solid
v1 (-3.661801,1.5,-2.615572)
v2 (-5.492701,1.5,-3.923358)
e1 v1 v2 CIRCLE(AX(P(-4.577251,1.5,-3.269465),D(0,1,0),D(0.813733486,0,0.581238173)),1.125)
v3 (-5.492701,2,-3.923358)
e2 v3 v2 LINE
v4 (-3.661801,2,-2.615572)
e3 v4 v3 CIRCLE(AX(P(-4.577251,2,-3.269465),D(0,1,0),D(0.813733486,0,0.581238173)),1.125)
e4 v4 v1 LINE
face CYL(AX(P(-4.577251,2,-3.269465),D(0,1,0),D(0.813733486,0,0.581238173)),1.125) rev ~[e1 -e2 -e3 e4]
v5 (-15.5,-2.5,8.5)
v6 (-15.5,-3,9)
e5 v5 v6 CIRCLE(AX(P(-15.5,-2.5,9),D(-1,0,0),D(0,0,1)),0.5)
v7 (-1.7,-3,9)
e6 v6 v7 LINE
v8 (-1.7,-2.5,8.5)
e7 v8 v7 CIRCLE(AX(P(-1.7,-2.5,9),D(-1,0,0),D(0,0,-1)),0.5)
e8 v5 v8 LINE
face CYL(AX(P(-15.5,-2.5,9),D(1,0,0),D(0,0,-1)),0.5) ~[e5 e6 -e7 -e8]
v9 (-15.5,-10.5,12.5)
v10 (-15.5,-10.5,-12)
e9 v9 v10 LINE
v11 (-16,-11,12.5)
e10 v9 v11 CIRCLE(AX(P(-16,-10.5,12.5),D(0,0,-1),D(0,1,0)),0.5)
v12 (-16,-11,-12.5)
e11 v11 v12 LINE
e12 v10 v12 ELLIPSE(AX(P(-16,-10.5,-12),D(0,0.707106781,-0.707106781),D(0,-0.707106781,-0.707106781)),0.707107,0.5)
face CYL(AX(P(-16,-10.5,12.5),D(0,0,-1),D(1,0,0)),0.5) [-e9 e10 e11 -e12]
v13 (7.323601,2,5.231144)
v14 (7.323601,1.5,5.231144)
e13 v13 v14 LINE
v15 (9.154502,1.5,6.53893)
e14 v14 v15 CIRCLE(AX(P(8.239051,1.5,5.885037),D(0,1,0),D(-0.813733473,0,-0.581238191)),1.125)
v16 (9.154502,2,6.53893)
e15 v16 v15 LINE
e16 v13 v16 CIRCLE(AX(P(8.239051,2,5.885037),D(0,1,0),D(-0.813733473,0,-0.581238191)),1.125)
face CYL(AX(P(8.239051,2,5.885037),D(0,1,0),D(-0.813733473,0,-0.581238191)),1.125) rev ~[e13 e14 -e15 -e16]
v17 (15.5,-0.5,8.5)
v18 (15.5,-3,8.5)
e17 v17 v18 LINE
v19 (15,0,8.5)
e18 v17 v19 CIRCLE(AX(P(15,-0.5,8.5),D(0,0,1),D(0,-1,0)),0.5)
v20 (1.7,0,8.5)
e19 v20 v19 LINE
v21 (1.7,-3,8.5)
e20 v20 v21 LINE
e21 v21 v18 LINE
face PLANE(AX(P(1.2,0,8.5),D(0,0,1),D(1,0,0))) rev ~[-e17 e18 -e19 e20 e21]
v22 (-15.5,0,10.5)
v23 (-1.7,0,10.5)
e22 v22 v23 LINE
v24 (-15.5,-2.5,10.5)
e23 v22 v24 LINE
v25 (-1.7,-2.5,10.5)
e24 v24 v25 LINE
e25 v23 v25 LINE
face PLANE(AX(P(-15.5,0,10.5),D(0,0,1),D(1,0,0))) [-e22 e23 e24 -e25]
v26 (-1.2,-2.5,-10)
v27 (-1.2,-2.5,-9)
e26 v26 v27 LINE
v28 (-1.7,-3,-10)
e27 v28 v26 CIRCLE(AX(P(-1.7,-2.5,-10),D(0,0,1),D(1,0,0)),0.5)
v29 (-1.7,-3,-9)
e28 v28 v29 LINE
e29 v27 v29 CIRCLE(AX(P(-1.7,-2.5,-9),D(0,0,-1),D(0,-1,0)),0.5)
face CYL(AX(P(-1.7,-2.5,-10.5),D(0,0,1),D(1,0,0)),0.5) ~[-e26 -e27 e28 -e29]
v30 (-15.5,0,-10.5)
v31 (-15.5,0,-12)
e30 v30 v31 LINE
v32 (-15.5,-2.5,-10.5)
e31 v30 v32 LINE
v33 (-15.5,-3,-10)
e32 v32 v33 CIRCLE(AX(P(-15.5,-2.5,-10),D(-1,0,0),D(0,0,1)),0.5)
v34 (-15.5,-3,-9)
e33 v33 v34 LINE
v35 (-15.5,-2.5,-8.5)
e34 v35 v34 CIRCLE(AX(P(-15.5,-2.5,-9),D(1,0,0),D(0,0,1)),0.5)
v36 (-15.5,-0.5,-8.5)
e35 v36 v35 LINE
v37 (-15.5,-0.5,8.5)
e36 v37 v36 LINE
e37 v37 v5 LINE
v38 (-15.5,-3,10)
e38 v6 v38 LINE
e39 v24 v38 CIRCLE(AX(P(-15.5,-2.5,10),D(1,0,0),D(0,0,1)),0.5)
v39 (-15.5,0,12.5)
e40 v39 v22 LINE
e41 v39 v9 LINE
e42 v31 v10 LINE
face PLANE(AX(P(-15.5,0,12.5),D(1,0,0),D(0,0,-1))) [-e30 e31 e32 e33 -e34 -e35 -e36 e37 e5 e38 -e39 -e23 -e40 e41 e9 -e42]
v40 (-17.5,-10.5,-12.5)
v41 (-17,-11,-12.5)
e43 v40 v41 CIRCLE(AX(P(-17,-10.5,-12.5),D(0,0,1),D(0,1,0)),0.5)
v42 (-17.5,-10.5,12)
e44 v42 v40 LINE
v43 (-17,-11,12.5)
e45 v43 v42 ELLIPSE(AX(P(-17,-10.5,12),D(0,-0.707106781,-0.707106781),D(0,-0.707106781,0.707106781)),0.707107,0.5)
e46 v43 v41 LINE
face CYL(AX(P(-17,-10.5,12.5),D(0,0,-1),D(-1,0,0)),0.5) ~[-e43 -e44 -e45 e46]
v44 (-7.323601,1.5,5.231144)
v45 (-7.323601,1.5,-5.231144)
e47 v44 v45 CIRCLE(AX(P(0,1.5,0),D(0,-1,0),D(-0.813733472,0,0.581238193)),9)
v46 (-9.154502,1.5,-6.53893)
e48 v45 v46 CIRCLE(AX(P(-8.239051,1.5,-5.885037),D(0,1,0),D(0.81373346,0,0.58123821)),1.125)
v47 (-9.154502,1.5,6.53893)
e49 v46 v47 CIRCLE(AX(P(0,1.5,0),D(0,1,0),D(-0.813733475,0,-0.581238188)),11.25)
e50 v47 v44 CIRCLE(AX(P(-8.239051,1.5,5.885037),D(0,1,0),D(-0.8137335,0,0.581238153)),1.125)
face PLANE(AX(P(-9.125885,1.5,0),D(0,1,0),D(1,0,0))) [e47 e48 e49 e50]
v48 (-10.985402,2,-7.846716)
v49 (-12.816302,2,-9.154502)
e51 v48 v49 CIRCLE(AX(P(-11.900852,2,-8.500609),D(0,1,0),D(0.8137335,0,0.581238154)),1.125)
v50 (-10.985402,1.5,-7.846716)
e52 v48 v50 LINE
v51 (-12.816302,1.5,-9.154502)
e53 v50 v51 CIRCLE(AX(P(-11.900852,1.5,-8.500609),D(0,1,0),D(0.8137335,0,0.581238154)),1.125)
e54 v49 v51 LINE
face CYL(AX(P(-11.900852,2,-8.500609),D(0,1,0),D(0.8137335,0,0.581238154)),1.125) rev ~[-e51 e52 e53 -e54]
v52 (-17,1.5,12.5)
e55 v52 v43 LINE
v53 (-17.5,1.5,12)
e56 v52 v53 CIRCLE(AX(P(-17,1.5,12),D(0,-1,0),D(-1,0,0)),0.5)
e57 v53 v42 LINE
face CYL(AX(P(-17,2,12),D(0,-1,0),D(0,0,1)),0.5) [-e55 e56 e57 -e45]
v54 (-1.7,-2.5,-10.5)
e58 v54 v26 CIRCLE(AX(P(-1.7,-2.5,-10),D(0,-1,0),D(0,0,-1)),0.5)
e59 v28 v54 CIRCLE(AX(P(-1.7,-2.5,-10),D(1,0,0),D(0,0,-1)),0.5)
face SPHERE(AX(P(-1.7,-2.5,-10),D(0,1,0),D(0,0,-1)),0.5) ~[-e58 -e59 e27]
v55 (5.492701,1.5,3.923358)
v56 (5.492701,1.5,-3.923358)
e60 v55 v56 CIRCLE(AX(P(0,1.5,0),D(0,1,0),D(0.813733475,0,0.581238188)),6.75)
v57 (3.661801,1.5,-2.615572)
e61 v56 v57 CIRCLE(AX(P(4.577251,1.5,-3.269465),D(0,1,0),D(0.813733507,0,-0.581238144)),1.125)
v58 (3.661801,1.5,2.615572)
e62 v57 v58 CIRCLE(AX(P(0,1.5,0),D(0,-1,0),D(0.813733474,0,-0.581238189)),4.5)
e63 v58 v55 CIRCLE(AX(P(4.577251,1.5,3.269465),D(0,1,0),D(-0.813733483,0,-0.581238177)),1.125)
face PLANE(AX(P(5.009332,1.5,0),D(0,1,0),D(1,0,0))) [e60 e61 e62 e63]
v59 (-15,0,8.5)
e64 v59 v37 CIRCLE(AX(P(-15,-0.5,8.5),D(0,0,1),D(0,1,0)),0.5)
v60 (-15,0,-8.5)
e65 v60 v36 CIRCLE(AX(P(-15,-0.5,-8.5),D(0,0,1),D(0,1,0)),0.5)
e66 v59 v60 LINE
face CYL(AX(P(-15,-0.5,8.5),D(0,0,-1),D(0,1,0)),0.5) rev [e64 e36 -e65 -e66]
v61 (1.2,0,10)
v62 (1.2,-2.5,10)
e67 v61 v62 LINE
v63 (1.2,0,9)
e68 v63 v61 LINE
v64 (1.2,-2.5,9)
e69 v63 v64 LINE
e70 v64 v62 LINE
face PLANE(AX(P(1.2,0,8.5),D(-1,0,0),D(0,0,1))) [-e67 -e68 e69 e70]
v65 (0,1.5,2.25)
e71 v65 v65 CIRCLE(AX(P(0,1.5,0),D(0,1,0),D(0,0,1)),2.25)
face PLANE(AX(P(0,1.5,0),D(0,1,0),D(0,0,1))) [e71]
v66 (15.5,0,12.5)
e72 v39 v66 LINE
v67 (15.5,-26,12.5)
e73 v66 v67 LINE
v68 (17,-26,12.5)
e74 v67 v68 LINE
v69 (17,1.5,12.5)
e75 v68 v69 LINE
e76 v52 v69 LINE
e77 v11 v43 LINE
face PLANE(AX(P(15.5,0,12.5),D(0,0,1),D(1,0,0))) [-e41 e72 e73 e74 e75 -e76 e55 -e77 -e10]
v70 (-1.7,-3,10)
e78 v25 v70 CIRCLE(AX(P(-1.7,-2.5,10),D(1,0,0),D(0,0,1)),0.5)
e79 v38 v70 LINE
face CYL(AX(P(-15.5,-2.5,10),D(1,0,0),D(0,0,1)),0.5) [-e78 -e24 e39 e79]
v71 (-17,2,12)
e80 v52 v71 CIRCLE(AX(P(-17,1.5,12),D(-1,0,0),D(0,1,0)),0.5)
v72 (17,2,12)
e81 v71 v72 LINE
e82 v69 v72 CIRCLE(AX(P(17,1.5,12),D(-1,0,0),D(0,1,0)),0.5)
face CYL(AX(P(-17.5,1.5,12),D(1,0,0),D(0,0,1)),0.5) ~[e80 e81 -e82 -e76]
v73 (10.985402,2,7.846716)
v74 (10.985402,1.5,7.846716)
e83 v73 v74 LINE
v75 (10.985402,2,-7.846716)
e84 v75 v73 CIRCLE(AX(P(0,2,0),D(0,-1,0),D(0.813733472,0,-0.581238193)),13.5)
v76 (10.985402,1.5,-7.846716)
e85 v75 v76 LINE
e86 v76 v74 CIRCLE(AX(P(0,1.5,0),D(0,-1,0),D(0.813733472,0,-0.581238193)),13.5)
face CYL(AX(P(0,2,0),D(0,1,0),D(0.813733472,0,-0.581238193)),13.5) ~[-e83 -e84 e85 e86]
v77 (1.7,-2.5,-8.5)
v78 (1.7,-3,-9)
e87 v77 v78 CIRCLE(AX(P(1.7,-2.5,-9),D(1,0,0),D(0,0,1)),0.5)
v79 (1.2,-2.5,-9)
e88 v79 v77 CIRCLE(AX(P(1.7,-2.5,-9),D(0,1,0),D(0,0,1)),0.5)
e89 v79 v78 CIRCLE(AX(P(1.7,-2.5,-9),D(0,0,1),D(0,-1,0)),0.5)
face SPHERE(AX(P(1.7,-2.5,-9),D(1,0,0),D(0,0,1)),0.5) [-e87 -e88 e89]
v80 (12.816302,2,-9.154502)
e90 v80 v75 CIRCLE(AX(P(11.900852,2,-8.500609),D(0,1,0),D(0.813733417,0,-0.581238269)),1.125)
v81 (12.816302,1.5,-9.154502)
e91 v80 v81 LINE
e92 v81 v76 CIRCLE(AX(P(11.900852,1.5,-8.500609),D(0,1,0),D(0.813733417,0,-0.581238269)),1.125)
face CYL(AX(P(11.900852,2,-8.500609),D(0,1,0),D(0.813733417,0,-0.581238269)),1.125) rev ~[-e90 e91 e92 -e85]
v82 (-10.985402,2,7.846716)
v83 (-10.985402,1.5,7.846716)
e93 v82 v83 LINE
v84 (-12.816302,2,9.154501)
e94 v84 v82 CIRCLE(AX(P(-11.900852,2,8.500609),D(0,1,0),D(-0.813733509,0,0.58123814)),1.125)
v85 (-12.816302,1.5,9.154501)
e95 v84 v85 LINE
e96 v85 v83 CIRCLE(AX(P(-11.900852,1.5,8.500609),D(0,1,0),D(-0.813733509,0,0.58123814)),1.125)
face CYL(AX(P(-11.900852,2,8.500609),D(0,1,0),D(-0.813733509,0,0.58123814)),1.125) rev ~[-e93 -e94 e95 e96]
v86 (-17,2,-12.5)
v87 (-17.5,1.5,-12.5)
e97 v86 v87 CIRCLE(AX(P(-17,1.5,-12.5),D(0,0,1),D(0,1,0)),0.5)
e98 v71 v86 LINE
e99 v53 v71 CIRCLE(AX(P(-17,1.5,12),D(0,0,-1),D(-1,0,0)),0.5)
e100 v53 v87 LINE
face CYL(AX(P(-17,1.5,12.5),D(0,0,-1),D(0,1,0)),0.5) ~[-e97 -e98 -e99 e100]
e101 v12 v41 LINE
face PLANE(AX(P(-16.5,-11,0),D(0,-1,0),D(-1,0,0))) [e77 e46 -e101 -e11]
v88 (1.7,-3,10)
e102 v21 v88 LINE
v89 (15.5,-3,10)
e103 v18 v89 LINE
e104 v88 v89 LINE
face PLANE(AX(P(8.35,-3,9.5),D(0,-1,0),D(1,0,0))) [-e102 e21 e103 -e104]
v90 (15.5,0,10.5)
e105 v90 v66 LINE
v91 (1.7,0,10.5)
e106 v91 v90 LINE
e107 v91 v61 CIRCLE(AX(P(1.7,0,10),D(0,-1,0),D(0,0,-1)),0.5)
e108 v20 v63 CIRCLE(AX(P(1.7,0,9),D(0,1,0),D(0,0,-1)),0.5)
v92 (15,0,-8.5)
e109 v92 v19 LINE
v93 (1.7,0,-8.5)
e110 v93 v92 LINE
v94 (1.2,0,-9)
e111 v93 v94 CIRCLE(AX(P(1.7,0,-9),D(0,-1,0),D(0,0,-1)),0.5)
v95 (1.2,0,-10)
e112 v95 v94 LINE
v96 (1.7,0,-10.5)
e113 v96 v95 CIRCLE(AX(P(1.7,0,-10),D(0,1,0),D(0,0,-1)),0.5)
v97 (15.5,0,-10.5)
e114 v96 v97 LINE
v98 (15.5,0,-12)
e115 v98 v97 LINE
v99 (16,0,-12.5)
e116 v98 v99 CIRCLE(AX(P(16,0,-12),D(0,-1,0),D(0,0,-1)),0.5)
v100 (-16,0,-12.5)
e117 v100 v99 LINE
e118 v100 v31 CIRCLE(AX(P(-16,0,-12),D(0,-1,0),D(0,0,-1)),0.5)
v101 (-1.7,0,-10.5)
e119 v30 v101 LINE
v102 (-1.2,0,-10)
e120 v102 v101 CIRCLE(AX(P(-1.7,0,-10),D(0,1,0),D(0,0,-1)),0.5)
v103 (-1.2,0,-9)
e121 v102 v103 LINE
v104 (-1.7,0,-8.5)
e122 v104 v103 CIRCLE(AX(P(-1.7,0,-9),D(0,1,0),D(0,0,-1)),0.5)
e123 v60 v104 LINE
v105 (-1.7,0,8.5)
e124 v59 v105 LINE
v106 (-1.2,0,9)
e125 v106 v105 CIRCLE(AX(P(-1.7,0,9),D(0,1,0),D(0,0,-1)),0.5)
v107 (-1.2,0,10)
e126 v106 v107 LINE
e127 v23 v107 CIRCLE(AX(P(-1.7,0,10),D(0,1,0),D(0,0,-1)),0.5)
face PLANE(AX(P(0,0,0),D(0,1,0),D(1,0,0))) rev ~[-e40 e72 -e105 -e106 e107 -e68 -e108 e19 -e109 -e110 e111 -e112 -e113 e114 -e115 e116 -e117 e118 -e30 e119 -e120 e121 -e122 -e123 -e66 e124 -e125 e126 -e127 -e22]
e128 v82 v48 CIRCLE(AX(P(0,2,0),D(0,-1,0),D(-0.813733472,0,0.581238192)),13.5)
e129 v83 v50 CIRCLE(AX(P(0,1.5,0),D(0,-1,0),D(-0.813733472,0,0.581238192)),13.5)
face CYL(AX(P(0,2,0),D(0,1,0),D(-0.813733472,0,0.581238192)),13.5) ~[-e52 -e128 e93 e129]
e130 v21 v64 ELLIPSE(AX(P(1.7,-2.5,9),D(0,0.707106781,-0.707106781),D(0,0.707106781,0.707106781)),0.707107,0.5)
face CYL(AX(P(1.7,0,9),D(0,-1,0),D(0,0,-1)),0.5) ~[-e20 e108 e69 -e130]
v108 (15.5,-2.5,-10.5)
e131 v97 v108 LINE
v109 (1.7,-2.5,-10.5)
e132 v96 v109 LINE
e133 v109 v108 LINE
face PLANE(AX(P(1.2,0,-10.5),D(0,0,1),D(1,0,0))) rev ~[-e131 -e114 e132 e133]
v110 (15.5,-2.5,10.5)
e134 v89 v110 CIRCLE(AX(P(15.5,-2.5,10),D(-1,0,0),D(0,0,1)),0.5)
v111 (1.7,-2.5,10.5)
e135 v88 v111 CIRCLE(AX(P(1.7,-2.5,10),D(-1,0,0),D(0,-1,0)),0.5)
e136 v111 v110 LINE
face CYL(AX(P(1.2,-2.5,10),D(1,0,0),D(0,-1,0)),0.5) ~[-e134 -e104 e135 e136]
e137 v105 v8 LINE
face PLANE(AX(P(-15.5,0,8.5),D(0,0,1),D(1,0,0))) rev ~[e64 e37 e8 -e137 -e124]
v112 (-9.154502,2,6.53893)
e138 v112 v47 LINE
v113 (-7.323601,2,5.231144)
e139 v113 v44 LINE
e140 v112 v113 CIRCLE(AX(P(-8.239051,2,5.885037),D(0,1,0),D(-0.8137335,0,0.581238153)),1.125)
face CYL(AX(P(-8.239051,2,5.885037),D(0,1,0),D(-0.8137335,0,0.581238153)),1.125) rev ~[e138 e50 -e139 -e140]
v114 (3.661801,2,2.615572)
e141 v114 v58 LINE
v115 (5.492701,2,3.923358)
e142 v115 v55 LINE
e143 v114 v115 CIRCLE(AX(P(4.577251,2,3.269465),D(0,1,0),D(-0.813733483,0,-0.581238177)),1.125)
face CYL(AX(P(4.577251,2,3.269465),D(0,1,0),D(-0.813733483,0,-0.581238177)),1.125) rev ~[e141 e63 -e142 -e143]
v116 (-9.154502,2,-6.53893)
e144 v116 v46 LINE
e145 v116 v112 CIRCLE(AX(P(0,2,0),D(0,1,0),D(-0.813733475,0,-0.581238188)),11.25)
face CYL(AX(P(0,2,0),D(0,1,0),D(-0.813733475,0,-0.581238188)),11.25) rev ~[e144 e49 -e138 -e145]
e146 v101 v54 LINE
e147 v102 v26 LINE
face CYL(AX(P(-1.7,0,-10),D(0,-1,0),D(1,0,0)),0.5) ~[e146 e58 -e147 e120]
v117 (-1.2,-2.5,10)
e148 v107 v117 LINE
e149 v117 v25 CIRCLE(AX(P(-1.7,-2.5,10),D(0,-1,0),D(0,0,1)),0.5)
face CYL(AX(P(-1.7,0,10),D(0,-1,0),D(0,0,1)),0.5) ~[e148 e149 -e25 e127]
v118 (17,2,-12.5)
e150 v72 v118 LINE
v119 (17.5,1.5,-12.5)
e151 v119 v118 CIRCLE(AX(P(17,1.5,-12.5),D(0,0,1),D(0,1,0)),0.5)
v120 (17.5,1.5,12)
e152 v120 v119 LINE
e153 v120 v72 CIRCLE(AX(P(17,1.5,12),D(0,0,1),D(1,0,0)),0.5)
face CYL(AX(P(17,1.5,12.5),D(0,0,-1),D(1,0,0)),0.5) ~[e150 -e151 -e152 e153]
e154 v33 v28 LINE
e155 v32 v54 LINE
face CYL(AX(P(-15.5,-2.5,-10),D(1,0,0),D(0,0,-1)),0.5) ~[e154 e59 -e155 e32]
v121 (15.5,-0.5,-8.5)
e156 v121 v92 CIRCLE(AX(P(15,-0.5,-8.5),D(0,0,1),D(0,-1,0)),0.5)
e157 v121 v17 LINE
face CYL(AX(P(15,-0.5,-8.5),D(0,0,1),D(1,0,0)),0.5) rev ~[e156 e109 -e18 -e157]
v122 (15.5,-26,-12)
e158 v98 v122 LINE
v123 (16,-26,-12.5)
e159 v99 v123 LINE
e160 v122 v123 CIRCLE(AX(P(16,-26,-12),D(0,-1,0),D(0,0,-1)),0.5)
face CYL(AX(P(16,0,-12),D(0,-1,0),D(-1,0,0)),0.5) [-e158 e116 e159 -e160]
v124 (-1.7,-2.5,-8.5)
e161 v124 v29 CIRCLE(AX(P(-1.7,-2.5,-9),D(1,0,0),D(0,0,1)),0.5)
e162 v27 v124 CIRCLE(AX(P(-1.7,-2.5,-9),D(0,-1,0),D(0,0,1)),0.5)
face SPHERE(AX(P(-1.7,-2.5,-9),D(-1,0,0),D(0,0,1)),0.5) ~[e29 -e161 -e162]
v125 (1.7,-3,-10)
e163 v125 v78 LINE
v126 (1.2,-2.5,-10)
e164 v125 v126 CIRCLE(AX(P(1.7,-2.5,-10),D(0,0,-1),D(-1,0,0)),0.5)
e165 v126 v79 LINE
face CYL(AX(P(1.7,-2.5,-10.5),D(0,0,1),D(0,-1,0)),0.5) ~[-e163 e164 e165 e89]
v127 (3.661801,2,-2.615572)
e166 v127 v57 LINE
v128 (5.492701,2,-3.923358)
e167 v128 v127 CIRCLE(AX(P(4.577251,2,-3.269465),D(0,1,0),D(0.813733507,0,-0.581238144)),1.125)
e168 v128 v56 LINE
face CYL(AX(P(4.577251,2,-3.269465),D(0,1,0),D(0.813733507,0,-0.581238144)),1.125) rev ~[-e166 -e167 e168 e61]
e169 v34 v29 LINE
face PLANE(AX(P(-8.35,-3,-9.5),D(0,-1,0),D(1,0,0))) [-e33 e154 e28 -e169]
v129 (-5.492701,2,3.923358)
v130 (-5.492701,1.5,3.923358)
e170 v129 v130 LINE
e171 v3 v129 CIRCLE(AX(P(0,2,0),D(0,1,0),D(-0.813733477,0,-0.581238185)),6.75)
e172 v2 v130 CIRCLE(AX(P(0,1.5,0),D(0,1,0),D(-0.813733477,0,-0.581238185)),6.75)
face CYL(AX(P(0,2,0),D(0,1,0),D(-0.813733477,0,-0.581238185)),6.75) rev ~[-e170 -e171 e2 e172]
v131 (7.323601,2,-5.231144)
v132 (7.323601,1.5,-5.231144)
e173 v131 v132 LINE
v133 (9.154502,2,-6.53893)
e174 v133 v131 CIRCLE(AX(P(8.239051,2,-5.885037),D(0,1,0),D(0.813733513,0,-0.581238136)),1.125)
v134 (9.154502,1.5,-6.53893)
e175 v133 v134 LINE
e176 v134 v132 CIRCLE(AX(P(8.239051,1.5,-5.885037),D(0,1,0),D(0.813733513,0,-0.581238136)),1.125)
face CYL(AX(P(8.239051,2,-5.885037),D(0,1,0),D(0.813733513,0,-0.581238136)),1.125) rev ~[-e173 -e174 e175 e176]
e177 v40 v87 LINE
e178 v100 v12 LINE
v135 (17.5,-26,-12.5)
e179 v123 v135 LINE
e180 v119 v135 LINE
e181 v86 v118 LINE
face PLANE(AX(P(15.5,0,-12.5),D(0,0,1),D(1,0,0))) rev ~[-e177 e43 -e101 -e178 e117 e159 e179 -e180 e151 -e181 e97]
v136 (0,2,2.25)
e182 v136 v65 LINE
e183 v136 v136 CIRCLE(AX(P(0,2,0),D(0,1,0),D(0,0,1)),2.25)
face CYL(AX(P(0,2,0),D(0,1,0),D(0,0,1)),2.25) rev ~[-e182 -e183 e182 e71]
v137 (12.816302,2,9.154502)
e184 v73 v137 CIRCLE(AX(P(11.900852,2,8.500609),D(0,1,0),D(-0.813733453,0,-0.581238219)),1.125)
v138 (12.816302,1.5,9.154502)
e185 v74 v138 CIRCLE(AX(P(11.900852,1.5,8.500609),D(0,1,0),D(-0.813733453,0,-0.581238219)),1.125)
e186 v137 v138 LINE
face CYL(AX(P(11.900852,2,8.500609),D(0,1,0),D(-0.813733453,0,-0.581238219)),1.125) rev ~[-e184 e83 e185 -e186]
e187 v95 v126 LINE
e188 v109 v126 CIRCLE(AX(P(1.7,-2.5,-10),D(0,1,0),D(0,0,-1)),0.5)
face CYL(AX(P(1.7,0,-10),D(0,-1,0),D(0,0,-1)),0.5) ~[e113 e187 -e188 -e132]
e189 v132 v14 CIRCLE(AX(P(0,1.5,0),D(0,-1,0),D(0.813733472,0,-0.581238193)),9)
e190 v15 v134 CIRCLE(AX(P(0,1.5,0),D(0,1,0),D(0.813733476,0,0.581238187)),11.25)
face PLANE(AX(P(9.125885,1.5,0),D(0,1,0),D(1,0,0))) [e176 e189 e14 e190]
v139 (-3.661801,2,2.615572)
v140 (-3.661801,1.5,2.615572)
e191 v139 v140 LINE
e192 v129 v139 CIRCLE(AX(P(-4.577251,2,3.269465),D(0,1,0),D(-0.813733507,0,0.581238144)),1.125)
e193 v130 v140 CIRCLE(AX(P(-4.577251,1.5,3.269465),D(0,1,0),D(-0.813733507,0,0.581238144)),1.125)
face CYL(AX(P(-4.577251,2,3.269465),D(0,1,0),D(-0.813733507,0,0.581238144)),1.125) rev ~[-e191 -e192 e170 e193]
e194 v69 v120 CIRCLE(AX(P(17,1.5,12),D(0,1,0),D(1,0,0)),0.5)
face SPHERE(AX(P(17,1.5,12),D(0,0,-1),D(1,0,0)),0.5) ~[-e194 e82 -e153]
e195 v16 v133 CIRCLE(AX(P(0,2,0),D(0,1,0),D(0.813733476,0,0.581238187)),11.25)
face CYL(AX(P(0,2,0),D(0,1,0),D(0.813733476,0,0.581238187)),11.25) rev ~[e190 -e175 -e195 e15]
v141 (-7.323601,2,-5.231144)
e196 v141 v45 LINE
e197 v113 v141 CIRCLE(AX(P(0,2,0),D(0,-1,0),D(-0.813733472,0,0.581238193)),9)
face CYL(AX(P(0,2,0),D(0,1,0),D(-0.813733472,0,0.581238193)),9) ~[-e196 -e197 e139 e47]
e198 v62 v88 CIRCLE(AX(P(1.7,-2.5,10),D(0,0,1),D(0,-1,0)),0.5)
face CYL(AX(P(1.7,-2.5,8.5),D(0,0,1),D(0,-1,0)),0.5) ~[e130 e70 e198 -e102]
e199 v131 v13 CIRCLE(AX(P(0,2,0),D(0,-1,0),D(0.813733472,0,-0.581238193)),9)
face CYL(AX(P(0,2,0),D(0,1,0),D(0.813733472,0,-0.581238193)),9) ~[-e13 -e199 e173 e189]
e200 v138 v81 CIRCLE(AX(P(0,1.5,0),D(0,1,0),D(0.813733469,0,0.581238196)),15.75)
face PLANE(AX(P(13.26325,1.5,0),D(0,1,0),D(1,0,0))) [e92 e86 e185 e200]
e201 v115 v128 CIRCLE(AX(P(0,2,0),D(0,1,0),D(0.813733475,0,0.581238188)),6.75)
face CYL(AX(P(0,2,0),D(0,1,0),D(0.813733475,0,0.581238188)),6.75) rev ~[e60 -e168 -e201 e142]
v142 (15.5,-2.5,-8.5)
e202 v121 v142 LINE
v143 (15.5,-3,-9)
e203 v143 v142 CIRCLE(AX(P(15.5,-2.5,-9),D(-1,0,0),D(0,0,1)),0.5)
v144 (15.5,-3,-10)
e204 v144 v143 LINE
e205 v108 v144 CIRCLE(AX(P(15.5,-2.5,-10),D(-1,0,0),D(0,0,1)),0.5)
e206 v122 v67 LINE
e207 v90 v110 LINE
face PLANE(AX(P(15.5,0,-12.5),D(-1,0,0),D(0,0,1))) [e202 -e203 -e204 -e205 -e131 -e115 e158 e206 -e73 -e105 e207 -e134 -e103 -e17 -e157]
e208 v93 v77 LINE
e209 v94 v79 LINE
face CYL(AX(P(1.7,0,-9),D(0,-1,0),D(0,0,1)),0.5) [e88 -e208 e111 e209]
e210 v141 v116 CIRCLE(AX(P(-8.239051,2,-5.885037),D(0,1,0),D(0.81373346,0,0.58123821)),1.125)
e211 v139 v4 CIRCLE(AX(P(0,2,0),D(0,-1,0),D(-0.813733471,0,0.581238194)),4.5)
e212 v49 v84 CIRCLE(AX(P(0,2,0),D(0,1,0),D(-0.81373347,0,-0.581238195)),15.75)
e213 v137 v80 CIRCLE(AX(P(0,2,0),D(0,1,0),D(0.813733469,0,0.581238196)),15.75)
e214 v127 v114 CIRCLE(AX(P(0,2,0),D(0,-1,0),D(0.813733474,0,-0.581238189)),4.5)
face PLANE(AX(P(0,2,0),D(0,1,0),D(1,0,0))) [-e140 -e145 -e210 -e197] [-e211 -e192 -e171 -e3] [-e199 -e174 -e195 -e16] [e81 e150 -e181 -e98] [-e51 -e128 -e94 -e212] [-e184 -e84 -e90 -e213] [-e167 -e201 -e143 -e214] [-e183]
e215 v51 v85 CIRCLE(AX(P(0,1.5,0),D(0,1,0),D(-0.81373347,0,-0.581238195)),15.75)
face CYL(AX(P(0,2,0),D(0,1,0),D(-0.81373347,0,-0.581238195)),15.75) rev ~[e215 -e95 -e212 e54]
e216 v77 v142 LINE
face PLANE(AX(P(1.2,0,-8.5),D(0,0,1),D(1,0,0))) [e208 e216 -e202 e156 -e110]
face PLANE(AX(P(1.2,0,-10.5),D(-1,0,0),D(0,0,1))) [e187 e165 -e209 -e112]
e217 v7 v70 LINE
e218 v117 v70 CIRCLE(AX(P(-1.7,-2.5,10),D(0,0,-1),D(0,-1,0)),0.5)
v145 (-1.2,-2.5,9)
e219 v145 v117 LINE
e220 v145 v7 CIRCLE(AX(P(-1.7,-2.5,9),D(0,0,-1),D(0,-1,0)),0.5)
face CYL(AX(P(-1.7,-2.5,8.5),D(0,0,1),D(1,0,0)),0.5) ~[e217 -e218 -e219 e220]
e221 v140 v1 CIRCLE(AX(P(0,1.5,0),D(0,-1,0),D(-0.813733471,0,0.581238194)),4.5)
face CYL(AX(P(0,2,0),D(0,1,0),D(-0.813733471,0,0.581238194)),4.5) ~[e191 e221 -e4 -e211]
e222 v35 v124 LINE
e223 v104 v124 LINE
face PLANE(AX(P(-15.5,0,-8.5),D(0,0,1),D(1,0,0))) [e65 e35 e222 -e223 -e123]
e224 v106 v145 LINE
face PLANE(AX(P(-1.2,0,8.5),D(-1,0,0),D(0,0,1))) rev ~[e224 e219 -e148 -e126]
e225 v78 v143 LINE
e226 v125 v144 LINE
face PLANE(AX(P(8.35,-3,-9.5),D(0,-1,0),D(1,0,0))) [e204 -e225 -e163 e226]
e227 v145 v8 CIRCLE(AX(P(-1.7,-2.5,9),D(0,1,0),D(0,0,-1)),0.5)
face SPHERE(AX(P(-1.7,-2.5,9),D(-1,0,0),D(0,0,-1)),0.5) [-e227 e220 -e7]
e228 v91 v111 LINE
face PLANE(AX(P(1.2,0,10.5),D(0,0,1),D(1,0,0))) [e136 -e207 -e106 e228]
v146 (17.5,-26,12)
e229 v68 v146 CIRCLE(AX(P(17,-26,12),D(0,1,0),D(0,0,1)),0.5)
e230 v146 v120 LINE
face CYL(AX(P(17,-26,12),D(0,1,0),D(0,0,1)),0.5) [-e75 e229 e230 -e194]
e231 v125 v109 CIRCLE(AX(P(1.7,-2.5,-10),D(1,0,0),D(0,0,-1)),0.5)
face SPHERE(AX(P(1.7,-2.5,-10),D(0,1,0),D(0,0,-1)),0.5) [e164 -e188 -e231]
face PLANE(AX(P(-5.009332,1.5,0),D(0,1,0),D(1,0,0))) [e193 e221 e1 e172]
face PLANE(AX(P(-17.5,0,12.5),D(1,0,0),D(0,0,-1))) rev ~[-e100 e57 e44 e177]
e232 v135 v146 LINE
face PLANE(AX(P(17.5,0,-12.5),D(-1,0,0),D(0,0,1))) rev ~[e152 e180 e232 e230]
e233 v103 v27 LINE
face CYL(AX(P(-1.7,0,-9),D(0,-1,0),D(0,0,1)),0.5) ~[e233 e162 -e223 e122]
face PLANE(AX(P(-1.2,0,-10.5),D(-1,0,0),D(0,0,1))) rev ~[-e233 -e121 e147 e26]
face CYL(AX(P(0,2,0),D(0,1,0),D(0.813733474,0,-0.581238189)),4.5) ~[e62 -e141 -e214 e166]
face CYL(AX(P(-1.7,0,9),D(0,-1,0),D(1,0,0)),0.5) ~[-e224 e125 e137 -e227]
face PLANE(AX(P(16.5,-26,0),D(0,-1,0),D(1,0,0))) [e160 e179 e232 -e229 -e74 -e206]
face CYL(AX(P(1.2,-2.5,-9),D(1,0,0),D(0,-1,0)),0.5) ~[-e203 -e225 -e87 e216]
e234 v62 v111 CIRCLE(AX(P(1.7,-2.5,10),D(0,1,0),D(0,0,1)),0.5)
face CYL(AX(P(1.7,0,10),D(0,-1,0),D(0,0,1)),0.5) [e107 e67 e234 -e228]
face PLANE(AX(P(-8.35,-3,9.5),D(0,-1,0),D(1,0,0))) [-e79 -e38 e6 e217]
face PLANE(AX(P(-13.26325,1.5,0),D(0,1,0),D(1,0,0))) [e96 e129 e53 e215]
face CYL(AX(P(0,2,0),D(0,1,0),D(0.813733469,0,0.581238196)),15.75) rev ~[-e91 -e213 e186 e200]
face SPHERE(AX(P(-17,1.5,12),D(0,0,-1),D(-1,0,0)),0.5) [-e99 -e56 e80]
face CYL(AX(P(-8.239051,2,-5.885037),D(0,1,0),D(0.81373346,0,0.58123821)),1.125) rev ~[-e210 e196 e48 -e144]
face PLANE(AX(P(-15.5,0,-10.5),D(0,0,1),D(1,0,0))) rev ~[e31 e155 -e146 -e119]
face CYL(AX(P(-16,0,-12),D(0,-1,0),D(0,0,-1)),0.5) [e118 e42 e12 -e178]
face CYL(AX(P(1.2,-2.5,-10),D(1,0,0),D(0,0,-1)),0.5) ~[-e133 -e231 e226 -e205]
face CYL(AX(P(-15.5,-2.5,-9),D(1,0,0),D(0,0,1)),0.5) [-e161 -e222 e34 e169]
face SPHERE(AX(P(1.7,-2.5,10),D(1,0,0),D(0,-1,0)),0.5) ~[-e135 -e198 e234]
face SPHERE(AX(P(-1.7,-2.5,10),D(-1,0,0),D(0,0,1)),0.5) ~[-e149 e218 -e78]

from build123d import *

# Parameters (mm, degrees)
SKETCH1_W           = 35
SKETCH1_H           = 25
BOSS_EXTRUDE1_DEPTH = 2
SKETCH3_W           = 2
SKETCH3_H           = 25
BOSS_EXTRUDE3_DEPTH = 11
SKETCH4_W           = 2
SKETCH4_H           = 25
BOSS_EXTRUDE4_DEPTH = 26
SKETCH5_W           = 14.3
SKETCH5_H           = 2
BOSS_EXTRUDE5_DEPTH = 3
SKETCH6_R           = 2.25
CUT_EXTRUDE1_DEPTH  = 0.5
FILLET1_R           = 0.5


with BuildPart() as part:
    # Sketch1 → Boss-Extrude1 (new body)
    with BuildSketch(Plane(origin=(0, 0, 0), x_dir=(1, 0, 0), z_dir=(0, 1, 0))):
        Rectangle(SKETCH1_W, SKETCH1_H)
    extrude(amount=BOSS_EXTRUDE1_DEPTH)

    # Sketch3 → Boss-Extrude3 (add)
    with BuildSketch(Plane(origin=(0, 0, 0), x_dir=(-1, 0, 0), z_dir=(0, -1, 0))):
        with Locations((16.5, 0)):
            Rectangle(SKETCH3_W, SKETCH3_H)
    extrude(amount=BOSS_EXTRUDE3_DEPTH)

    # Sketch4 → Boss-Extrude4 (add)
    with BuildSketch(Plane.XZ):
        with Locations((16.5, 0)):
            Rectangle(SKETCH4_W, SKETCH4_H)
    extrude(amount=BOSS_EXTRUDE4_DEPTH)

    # Sketch5 → Boss-Extrude5 (add)
    with BuildSketch(Plane.XZ):
        with Locations((8.35, 9.5)):
            Rectangle(SKETCH5_W, SKETCH5_H)
        with Locations((-8.35, 9.5)):
            Rectangle(SKETCH5_W, SKETCH5_H)
        with Locations((-8.35, -9.5)):
            Rectangle(SKETCH5_W, SKETCH5_H)
        with Locations((8.35, -9.5)):
            Rectangle(SKETCH5_W, SKETCH5_H)
    extrude(amount=BOSS_EXTRUDE5_DEPTH)

    # Sketch6 → Cut-Extrude1 (cut)
    with BuildSketch(Plane(origin=(0, 2, 0), x_dir=(1, 0, 0), z_dir=(0, 1, 0))):
        with Locations(Location((0, 0, 0), (0, 0, 270))):
            Circle(SKETCH6_R)
        with BuildLine():
            ThreePointArc((9.154501609, -6.538929598), (11.25, 1e-08), (9.154501598, 6.538929614))
            ThreePointArc((9.154501598, 6.538929614), (7.585158455, 6.800486886), (7.323601248, 5.231143733))
            ThreePointArc((7.323601248, 5.231143733), (9, -9e-09), (7.323601238, -5.231143747))
            ThreePointArc((7.323601238, -5.231143747), (7.58515847, -6.800486897), (9.154501609, -6.538929598))
        make_face()
        with BuildLine():
            ThreePointArc((-7.323601248, -5.231143733), (-9, -5e-09), (-7.323601254, 5.231143725))
            ThreePointArc((-7.323601254, 5.231143725), (-7.585158451, 6.800486883), (-9.154501598, 6.538929614))
            ThreePointArc((-9.154501598, 6.538929614), (-11.25, -1.2e-08), (-9.154501584, -6.538929633))
            ThreePointArc((-9.154501584, -6.538929633), (-7.585158446, -6.800486879), (-7.323601248, -5.231143733))
        make_face()
        with BuildLine():
            ThreePointArc((5.492700959, -3.923357768), (6.75, -1e-08), (5.492700971, 3.923357752))
            ThreePointArc((5.492700971, 3.923357752), (3.923357826, 4.184915008), (3.661800635, 2.615571852))
            ThreePointArc((3.661800635, 2.615571852), (4.5, -2.4e-08), (3.661800607, -2.61557189))
            ThreePointArc((3.661800607, -2.61557189), (3.923357837, -4.184915016), (5.492700959, -3.923357768))
        make_face()
        with BuildLine():
            ThreePointArc((-3.661800619, -2.615571874), (-4.5, 1.3e-08), (-3.661800604, 2.615571895))
            ThreePointArc((-3.661800604, 2.615571895), (-3.923357847, 4.184915023), (-5.492700971, 3.923357752))
            ThreePointArc((-5.492700971, 3.923357752), (-6.75, 0), (-5.492700971, -3.923357752))
            ThreePointArc((-5.492700971, -3.923357752), (-3.923357837, -4.184915016), (-3.661800619, -2.615571874))
        make_face()
        with BuildLine():
            ThreePointArc((10.985401866, 7.846715609), (13.5, 1.4e-08), (10.985401882, -7.846715586))
            ThreePointArc((10.985401882, -7.846715586), (11.246959012, -9.416058712), (12.81630214, -9.154501596))
            ThreePointArc((12.81630214, -9.154501596), (15.75, 2.5e-08), (12.816302111, 9.154501636))
            ThreePointArc((12.816302111, 9.154501636), (11.246959003, 9.416058706), (10.985401866, 7.846715609))
        make_face()
        with BuildLine():
            ThreePointArc((-10.985401876, -7.846715595), (-13.5, 4e-08), (-10.985401829, 7.84671566))
            ThreePointArc((-10.985401829, 7.84671566), (-11.246959061, 9.416058747), (-12.816302157, 9.154501571))
            ThreePointArc((-12.816302157, 9.154501571), (-15.75, 4.9e-08), (-12.816302215, -9.154501491))
            ThreePointArc((-12.816302215, -9.154501491), (-11.246959069, -9.416058753), (-10.985401876, -7.846715595))
        make_face()
    extrude(amount=-CUT_EXTRUDE1_DEPTH, mode=Mode.SUBTRACT)

    # Fillet1
    fillet1_edges = [part.edges().sort_by_distance(p)[0] for p in [
        (-17.5, 2, 0),
        (-17.5, -4.5, 12.5),
        (-17.5, -11, 0),
        (17.5, 2, 0),
        (17.5, -12, 12.5),
        (15.5, 0, 0),
        (-15.5, 0, 0),
        (8.35, -3, -8.5),
        (-8.35, -3, -8.5),
        (-8.35, -3, 8.5),
        (-8.35, -3, 10.5),
        (8.35, -3, 10.5),
        (-1.2, -1.5, 10.5),
        (-1.2, -1.5, 8.5),
        (1.2, -3, 9.5),
        (1.2, -1.5, 10.5),
        (1.2, -1.5, 8.5),
        (-1.2, -1.5, -10.5),
        (-1.2, -1.5, -8.5),
        (1.2, -1.5, -8.5),
        (1.2, -1.5, -10.5),
        (8.35, -3, -10.5),
        (-8.35, -3, -10.5),
        (0, 2, 12.5),
        (-15.5, -11, 0),
        (-1.2, -3, 9.5),
        (-1.2, -3, -9.5),
        (1.2, -3, -9.5),
        (15.5, -13, -12.5),
        (-15.5, -5.5, -12.5),
    ]]
    fillet(fillet1_edges, radius=FILLET1_R)


solid = part.part
